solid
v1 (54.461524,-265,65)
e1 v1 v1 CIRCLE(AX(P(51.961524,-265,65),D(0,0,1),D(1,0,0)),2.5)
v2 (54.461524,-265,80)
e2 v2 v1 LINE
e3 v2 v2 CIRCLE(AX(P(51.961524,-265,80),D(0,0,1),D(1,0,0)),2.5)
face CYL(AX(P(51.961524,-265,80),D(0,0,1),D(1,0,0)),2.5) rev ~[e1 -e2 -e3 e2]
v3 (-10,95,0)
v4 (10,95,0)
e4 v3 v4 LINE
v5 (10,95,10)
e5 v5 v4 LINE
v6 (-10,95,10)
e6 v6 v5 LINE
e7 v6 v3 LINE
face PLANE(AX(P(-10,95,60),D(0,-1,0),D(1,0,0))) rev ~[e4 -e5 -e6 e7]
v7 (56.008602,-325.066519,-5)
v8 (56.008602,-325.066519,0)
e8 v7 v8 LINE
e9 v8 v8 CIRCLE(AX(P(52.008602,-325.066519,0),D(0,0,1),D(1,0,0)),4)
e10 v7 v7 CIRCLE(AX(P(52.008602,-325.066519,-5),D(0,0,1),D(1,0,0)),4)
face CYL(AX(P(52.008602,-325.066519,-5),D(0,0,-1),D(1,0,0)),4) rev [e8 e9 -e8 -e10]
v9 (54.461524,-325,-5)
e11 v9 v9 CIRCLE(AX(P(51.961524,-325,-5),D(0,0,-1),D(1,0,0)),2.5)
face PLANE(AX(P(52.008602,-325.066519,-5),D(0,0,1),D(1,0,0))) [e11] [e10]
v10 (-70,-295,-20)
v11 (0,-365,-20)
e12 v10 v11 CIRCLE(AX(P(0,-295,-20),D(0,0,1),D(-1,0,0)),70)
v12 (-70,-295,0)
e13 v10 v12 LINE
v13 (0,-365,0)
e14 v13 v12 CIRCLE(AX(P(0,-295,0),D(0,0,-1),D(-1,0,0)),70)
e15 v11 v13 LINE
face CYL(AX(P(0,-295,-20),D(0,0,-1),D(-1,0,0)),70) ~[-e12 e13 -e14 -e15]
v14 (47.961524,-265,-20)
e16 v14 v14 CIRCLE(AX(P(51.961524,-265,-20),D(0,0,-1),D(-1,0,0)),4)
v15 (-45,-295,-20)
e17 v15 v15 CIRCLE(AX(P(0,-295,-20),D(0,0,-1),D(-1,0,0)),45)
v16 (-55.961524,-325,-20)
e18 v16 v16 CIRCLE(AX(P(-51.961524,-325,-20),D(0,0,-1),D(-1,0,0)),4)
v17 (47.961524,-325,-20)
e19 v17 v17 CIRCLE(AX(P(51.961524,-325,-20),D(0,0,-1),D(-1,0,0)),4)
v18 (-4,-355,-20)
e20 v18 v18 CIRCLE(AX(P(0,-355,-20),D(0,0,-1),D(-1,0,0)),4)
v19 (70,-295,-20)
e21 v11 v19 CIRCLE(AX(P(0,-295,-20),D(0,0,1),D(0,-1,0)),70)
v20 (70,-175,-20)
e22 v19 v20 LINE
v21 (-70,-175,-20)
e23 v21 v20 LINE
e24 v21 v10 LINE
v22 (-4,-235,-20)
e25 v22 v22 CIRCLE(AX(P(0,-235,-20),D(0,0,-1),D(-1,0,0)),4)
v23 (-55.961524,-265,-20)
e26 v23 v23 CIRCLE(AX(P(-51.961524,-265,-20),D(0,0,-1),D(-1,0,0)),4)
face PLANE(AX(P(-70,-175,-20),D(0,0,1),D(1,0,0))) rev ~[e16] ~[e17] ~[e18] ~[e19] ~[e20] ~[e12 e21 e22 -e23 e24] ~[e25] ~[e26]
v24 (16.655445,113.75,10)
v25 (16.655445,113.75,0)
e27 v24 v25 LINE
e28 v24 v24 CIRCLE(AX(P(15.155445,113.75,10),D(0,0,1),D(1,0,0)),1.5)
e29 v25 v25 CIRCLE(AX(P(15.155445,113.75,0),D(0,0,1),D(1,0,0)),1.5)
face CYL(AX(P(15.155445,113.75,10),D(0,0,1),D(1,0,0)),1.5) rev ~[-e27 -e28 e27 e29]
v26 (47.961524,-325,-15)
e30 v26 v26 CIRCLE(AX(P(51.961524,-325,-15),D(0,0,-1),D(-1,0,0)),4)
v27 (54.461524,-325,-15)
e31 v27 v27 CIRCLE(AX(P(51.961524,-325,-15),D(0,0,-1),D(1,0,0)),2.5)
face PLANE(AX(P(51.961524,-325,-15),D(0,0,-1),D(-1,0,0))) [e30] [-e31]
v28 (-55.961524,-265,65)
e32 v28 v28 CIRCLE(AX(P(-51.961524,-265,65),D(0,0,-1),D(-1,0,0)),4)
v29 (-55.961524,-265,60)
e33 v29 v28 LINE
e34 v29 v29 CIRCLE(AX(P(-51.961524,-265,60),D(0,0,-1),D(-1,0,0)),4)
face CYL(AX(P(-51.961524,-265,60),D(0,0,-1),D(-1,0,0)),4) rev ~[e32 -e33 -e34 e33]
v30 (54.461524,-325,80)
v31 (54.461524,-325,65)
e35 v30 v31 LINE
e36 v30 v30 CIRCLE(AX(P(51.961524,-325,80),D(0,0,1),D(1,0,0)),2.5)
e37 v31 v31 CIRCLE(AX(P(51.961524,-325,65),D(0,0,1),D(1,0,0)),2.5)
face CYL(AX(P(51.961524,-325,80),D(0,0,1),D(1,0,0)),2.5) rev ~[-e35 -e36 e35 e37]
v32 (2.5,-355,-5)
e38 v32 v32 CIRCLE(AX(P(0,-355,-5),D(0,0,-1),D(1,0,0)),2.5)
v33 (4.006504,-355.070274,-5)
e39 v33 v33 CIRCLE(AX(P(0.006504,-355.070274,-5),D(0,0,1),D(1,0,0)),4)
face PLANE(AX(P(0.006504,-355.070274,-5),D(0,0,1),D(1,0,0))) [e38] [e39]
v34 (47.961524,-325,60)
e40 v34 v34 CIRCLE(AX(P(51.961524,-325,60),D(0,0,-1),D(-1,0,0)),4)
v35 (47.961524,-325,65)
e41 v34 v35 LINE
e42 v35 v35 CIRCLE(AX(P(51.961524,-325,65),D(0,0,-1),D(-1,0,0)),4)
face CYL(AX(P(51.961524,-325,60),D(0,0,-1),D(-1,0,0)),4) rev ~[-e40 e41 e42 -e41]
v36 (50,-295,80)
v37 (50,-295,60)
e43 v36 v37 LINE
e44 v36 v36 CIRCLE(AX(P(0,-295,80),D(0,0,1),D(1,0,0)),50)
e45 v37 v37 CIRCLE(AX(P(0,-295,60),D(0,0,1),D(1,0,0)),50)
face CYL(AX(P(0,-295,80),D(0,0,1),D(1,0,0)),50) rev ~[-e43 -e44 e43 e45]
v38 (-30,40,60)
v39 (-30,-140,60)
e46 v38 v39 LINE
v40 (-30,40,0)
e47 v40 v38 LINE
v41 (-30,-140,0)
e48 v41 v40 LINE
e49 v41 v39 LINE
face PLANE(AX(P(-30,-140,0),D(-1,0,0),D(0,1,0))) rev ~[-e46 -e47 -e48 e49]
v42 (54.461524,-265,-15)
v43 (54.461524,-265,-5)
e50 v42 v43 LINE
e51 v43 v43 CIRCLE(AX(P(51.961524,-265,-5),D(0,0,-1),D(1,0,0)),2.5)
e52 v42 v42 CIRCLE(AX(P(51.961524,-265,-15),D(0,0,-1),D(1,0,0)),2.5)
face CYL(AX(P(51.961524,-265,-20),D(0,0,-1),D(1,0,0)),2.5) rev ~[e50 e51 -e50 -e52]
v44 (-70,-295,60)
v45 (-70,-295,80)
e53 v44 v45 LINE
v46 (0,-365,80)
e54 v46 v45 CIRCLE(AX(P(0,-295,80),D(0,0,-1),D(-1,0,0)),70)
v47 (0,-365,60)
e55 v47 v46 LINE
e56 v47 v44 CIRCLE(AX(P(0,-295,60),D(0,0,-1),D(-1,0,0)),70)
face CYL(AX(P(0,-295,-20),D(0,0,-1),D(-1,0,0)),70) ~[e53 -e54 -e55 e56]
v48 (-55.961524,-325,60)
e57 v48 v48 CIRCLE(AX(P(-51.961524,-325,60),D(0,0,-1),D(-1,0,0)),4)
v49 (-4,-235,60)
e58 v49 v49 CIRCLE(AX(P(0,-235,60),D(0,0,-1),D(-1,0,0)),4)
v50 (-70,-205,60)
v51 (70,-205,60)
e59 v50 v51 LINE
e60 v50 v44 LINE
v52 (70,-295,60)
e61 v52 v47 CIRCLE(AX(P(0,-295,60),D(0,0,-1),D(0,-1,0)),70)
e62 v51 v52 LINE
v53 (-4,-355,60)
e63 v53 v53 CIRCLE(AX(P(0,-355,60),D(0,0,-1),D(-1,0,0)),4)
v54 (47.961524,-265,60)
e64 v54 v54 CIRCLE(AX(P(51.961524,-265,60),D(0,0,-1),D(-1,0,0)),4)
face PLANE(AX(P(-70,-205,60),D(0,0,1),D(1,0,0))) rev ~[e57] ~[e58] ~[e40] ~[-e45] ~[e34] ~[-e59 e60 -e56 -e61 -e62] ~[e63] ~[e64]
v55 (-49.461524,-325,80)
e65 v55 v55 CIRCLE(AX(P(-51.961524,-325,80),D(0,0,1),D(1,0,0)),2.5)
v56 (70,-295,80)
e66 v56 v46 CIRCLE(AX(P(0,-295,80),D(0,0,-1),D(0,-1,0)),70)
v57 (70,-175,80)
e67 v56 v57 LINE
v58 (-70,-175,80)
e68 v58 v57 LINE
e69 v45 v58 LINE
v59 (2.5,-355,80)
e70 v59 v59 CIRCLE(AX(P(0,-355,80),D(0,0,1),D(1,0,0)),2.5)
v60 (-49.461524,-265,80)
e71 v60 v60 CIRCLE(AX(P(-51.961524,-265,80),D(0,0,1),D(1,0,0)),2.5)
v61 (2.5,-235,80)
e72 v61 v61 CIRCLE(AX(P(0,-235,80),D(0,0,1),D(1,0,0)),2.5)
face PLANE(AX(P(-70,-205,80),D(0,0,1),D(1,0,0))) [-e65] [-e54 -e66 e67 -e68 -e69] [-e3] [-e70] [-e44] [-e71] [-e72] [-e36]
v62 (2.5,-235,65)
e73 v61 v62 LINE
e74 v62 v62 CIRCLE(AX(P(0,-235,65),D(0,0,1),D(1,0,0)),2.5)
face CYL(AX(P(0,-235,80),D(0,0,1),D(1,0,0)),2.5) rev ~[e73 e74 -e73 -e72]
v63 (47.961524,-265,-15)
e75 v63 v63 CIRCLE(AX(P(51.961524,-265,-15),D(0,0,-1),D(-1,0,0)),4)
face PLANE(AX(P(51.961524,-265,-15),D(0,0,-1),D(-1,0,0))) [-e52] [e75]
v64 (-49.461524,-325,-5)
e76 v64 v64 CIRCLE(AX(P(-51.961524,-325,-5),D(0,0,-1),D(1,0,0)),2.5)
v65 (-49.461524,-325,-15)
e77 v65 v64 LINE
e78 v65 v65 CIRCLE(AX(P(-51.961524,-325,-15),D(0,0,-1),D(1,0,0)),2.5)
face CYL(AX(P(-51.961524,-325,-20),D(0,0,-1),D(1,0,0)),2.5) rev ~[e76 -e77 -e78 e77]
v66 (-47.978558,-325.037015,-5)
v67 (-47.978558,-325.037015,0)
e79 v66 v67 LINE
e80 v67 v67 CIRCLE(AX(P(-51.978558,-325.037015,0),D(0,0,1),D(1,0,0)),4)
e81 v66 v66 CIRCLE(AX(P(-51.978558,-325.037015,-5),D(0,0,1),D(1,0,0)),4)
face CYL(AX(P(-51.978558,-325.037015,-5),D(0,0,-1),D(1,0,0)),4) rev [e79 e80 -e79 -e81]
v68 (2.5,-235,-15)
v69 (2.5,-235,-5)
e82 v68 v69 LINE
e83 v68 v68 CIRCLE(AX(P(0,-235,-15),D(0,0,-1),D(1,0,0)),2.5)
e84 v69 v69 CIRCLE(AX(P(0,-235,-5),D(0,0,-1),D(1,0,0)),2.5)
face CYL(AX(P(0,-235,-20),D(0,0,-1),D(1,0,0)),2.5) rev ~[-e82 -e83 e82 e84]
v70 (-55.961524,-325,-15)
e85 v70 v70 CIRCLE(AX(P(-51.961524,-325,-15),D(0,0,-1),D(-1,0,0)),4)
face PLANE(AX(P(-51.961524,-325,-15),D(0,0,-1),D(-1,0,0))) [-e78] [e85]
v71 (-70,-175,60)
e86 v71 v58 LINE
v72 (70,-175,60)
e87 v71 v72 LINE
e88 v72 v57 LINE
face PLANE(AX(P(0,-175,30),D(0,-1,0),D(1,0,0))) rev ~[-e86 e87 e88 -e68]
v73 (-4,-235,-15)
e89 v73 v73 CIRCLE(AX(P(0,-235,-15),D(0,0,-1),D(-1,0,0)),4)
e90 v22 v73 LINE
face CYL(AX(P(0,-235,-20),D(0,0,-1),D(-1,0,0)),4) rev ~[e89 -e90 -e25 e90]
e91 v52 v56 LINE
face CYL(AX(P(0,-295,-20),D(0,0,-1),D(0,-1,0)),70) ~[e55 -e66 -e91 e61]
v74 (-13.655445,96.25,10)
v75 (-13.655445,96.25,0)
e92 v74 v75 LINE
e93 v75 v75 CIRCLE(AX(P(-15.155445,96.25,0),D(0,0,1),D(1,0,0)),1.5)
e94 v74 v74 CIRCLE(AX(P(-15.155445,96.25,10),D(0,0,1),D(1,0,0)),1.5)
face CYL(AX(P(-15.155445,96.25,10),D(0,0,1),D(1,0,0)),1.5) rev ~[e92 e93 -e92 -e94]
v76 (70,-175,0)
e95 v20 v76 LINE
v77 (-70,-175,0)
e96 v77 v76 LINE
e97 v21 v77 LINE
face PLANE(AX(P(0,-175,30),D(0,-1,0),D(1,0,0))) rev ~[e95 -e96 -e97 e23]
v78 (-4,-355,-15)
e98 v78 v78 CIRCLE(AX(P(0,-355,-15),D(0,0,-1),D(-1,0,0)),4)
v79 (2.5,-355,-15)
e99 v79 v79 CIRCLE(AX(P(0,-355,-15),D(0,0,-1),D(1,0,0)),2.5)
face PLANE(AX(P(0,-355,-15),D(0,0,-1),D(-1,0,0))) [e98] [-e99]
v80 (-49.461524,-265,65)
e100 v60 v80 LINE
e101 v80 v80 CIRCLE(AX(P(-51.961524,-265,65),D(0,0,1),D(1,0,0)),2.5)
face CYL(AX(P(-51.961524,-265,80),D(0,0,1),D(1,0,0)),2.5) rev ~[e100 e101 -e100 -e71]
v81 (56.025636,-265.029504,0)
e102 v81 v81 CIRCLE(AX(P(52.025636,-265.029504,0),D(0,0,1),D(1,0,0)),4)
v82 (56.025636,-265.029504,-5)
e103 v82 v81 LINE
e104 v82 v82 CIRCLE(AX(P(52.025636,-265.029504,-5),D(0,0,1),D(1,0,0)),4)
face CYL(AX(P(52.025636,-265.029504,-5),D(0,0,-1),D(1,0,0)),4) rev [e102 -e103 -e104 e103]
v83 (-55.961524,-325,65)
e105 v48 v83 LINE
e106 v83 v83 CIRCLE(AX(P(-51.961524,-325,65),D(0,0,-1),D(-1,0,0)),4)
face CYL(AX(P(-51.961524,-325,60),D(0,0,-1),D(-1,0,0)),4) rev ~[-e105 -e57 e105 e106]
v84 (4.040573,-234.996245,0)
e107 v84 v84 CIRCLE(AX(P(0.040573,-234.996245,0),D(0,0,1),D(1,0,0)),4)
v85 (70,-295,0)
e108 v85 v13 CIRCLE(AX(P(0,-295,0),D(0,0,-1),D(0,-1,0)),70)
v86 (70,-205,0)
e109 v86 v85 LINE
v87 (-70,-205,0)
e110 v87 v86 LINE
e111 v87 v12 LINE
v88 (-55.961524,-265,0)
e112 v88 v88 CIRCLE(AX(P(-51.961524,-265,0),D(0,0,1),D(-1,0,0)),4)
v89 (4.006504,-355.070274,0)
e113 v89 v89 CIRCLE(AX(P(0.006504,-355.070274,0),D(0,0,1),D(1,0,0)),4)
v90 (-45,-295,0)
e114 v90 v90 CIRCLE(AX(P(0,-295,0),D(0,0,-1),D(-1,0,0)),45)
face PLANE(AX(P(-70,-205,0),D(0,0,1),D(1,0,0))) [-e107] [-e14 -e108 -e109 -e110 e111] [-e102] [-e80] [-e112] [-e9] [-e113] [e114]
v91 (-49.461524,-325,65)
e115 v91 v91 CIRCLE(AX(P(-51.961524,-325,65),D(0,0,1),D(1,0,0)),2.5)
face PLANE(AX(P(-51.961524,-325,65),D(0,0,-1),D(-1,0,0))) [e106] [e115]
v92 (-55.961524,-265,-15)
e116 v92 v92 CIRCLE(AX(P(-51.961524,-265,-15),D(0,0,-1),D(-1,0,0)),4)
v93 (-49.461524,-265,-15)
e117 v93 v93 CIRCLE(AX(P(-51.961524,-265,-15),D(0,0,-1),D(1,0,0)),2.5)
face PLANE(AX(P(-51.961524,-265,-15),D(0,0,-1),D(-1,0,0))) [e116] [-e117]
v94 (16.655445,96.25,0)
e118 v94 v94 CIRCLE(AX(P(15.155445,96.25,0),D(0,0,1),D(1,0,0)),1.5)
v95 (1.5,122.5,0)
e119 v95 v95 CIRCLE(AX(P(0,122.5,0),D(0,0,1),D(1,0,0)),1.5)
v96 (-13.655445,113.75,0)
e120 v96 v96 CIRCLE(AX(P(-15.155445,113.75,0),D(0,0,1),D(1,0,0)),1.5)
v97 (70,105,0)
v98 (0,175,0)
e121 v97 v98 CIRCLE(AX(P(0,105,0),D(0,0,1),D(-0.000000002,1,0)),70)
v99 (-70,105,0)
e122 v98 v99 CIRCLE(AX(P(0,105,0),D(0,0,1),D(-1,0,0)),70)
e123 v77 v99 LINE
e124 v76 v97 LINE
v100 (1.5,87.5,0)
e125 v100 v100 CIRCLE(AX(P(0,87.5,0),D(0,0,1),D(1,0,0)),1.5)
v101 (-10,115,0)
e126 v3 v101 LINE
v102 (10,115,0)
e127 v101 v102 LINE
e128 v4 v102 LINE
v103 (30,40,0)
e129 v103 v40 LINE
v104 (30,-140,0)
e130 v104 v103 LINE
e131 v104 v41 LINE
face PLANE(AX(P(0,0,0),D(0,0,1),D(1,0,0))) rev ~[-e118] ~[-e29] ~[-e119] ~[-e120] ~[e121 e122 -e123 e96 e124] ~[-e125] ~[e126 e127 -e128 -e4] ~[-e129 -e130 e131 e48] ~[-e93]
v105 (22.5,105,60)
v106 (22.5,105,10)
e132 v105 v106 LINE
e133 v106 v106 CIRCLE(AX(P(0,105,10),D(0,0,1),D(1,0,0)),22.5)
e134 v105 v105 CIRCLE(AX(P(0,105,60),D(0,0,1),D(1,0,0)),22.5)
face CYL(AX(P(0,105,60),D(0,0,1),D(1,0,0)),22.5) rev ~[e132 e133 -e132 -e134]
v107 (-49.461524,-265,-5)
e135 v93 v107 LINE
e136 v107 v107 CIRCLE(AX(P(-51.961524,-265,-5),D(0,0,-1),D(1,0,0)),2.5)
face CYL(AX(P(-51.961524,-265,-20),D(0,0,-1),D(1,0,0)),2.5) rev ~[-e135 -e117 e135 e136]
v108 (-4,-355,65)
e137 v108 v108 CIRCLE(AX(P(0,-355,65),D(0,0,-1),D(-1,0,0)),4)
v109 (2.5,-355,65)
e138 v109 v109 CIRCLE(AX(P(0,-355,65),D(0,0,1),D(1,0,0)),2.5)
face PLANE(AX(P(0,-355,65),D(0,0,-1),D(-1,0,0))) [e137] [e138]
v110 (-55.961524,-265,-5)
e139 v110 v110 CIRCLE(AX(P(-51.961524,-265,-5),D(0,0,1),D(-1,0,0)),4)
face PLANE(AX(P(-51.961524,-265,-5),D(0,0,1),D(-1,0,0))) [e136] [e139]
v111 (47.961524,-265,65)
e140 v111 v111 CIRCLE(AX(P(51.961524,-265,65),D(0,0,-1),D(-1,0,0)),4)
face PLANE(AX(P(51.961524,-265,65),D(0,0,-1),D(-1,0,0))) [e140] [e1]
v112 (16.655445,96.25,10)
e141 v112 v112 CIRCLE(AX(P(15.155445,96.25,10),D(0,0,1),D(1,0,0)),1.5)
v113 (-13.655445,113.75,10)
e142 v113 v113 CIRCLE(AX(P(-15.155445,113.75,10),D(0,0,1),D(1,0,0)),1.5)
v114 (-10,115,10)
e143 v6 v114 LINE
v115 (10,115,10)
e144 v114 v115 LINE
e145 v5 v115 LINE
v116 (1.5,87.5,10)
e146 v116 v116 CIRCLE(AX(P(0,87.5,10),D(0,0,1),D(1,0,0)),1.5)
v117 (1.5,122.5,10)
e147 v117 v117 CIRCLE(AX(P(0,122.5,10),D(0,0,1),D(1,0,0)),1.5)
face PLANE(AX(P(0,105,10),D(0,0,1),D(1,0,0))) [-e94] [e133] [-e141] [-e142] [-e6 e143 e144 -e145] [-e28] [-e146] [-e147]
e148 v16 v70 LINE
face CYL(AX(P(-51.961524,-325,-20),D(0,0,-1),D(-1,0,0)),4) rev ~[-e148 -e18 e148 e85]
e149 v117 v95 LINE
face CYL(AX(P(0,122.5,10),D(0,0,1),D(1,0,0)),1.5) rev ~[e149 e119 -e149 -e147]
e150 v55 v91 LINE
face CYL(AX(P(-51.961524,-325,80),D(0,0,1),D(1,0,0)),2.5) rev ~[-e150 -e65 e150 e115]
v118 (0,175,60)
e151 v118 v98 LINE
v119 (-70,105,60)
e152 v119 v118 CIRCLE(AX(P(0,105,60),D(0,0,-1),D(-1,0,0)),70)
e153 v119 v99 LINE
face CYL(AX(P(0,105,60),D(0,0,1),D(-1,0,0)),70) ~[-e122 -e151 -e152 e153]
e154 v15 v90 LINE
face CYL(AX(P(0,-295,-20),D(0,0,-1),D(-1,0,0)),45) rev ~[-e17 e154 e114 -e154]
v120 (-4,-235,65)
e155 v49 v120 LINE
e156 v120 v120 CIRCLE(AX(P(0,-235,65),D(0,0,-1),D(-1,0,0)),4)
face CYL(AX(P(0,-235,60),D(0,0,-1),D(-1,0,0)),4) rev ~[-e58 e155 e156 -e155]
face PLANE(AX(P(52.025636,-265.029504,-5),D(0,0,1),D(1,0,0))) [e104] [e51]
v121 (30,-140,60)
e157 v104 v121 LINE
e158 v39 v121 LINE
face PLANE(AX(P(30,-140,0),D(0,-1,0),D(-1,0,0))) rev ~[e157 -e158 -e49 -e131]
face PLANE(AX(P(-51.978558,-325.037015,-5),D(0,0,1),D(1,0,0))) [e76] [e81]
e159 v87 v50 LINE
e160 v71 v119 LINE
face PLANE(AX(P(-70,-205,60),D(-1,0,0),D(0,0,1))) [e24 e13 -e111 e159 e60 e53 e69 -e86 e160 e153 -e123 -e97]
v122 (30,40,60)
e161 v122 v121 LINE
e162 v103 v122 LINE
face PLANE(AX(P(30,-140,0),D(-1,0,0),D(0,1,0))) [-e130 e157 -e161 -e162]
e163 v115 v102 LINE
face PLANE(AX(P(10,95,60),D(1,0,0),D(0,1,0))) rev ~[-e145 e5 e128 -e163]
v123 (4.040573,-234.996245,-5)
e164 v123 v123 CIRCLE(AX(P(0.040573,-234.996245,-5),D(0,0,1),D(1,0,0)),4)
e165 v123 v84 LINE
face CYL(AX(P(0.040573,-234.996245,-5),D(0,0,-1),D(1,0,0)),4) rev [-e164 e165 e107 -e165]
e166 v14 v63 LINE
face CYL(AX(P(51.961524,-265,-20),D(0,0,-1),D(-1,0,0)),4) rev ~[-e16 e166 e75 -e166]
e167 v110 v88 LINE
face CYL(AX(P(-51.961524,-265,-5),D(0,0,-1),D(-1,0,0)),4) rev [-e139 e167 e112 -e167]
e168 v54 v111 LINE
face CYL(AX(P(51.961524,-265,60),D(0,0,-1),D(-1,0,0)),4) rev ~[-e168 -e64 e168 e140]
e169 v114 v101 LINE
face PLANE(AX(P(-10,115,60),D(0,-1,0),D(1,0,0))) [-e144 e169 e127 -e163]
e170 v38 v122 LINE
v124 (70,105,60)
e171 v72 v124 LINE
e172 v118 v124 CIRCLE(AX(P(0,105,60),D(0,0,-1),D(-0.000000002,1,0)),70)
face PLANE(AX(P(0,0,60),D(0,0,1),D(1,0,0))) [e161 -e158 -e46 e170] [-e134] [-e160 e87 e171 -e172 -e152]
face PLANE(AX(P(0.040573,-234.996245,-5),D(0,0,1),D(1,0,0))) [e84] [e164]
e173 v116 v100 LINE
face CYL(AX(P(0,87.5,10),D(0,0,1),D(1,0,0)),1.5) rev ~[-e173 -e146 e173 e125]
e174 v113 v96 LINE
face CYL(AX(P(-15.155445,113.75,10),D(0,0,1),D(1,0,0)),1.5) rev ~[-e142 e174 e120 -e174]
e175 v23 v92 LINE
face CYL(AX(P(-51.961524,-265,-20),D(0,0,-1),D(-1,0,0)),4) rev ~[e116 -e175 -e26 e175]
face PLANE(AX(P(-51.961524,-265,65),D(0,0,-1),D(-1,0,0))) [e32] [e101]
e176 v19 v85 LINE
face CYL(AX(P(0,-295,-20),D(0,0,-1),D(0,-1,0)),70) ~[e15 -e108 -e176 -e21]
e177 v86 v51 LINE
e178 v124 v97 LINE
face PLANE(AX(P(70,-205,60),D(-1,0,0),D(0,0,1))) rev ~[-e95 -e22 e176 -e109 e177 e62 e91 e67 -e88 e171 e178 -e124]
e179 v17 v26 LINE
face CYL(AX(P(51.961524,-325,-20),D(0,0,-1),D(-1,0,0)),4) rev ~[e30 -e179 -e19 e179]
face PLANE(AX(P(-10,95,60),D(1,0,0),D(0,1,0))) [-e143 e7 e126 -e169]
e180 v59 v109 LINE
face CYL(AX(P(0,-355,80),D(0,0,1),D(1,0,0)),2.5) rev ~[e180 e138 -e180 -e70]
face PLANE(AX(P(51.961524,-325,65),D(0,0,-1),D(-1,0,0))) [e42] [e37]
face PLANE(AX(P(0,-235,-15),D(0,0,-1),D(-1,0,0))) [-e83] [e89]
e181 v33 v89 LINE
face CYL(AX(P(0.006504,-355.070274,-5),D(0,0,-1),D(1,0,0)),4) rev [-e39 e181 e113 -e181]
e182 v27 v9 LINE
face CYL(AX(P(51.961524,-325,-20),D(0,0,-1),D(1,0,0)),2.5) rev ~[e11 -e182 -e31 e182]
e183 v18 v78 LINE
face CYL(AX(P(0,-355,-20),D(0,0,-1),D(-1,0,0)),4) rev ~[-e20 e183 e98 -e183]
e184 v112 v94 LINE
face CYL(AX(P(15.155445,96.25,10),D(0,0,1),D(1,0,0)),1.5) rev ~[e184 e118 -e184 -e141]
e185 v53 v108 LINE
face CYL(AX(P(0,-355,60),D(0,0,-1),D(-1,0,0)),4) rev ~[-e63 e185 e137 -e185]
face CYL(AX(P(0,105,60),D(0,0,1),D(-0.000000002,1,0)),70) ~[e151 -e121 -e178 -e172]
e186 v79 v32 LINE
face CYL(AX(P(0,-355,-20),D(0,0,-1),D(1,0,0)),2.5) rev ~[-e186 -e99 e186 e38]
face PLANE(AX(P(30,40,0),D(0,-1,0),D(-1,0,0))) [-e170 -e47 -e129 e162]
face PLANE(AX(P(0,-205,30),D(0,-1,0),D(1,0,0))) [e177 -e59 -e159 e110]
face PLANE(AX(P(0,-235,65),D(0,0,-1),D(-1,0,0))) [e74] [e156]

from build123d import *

# Parameters (mm, degrees)
SKETCH_1_W           = 140
SKETCH_1_H           = 350
EXTRUDE_1_DEPTH      = 60
CUT_EXTRUDE_1_REACH  = 199.8
SKETCH_4_W           = 140
SKETCH_4_H           = 100
EXTRUDE_3_DEPTH      = 30
SKETCH_5_W           = 140
SKETCH_5_H           = 20
EXTRUDE_4_DEPTH      = 160
CUT_EXTRUDE_3_DEPTH  = 385.870107959
SKETCH_8_W           = 60
SKETCH_8_H           = 180
CUT_EXTRUDE_4_DEPTH  = 381.164438105
CUT_EXTRUDE_5_REACH  = 386.87
SKETCH_9_R           = 45
CUT_EXTRUDE_6_REACH  = 386.87
SKETCH_10_R          = 50
SKETCH_11_W          = 20
SKETCH_11_H          = 20
CUT_EXTRUDE_7_DEPTH  = 381.164438105
CUT_EXTRUDE_10_REACH = 386.87
SKETCH_13_R          = 2.5
SKETCH_14_R          = 4
CUT_EXTRUDE_11_DEPTH = 5
SKETCH_16_R          = 22.5
SKETCH_16_W          = 20
SKETCH_16_H          = 20
CUT_EXTRUDE_12_DEPTH = 50
SKETCH_17_R          = 1.5
CUT_EXTRUDE_13_DEPTH = 379.186461947
SKETCH_18_R          = 4
CUT_EXTRUDE_14_DEPTH = 5
SKETCH_19_R          = 2.5
CUT_EXTRUDE_15_DEPTH = 385.870107959
CUT_EXTRUDE_START    = -5
SKETCH_20_R          = 4
CUT_EXTRUDE_16_DEPTH = 5


with BuildPart() as part:
    # 草图1 → 凸台-拉伸1 (new body)
    with BuildSketch(Plane.XY):
        Rectangle(SKETCH_1_W, SKETCH_1_H)
    extrude(amount=EXTRUDE_1_DEPTH)

    # 草图2 → 切除-拉伸1 (cut, up to next)
    with BuildSketch(Plane.XY.offset(60), mode=Mode.PRIVATE) as cut_extrude_1_sk1:
        with BuildLine():
            Line((-1.55e-07, 175), (-70, 175))
            Line((-70, 175), (-70, 105))
            ThreePointArc((-70, 105), (-49.497474738, 154.497474628), (-1.55e-07, 175))
        make_face()
    cut_extrude_1_tool1 = extrude(cut_extrude_1_sk1.sketch, amount=-CUT_EXTRUDE_1_REACH, mode=Mode.PRIVATE) & part.part
    # 草图2 → 切除-拉伸1 (cut, up to next)
    with BuildSketch(Plane.XY.offset(60), mode=Mode.PRIVATE) as cut_extrude_1_sk2:
        with BuildLine():
            Line((70, 175), (-1.55e-07, 175))
            ThreePointArc((-1.55e-07, 175), (49.497474628, 154.497474738), (70, 105))
            Line((70, 105), (70, 175))
        make_face()
    cut_extrude_1_tool2 = extrude(cut_extrude_1_sk2.sketch, amount=-CUT_EXTRUDE_1_REACH, mode=Mode.PRIVATE) & part.part
    add(cut_extrude_1_tool1.solids().sort_by_distance((-54.364244, 159.364244, 60))[0], mode=Mode.SUBTRACT)
    add(cut_extrude_1_tool2.solids().sort_by_distance((54.364244, 159.364244, 60))[0], mode=Mode.SUBTRACT)

    # 草图4 → 凸台-拉伸3 (add)
    with BuildSketch(Plane.XZ.offset(175)):
        with Locations((0, 30)):
            Rectangle(SKETCH_4_W, SKETCH_4_H)
    extrude(amount=EXTRUDE_3_DEPTH)

    # 草图5 → 凸台-拉伸4 (add)
    with BuildSketch(Plane.XZ.offset(205)):
        with Locations((0, 70)):
            Rectangle(SKETCH_5_W, SKETCH_5_H)
        with Locations((0, -10)):
            Rectangle(SKETCH_5_W, SKETCH_5_H)
    extrude(amount=EXTRUDE_4_DEPTH)

    # 草图7 → 切除-拉伸3 (cut, through all)
    with BuildSketch(Plane(origin=(0, 0, -20), x_dir=(-1, 0, 0), z_dir=(0, 0, -1))):
        with BuildLine():
            Line((-70, -295), (-70, -365))
            Line((-70, -365), (0, -365))
            ThreePointArc((0, -365), (-49.497474683, -344.497474683), (-70, -295))
        make_face()
        with BuildLine():
            ThreePointArc((70, -295), (49.497474683, -344.497474683), (0, -365))
            Line((0, -365), (70, -365))
            Line((70, -365), (70, -295))
        make_face()
    extrude(amount=-CUT_EXTRUDE_3_DEPTH, mode=Mode.SUBTRACT)

    # 草图8 → 切除-拉伸4 (cut, through all)
    with BuildSketch(Plane(origin=(0, 0, 0), x_dir=(-1, 0, 0), z_dir=(0, 0, -1))):
        with Locations((0, -50)):
            Rectangle(SKETCH_8_W, SKETCH_8_H)
    extrude(amount=-CUT_EXTRUDE_4_DEPTH, mode=Mode.SUBTRACT)

    # 草图9 → 切除-拉伸5 (cut, up to next)
    with BuildSketch(Plane(origin=(0, 0, -20), x_dir=(-1, 0, 0), z_dir=(0, 0, -1)), mode=Mode.PRIVATE) as cut_extrude_5_sk1:
        with Locations((0, -295)):
            Circle(SKETCH_9_R)
    cut_extrude_5_tool1 = extrude(cut_extrude_5_sk1.sketch, amount=-CUT_EXTRUDE_5_REACH, mode=Mode.PRIVATE) & part.part
    add(cut_extrude_5_tool1.solids().sort_by_distance((0, -295, -20))[0], mode=Mode.SUBTRACT)

    # 草图10 → 切除-拉伸6 (cut, up to next)
    with BuildSketch(Plane.XY.offset(80), mode=Mode.PRIVATE) as cut_extrude_6_sk1:
        with Locations((0, -295)):
            Circle(SKETCH_10_R)
    cut_extrude_6_tool1 = extrude(cut_extrude_6_sk1.sketch, amount=-CUT_EXTRUDE_6_REACH, mode=Mode.PRIVATE) & part.part
    add(cut_extrude_6_tool1.solids().sort_by_distance((0, -295, 80))[0], mode=Mode.SUBTRACT)

    # 草图11 → 切除-拉伸7 (cut, through all)
    with BuildSketch(Plane.XY.offset(60)):
        with Locations((0, 105)):
            Rectangle(SKETCH_11_W, SKETCH_11_H)
    extrude(amount=-CUT_EXTRUDE_7_DEPTH, mode=Mode.SUBTRACT)

    # 草图13 → 切除-拉伸10 (cut, up to next)
    with BuildSketch(Plane.XY.offset(80), mode=Mode.PRIVATE) as cut_extrude_10_sk1:
        with Locations((-51.961524227, -265)):
            Circle(SKETCH_13_R)
    cut_extrude_10_tool1 = extrude(cut_extrude_10_sk1.sketch, amount=-CUT_EXTRUDE_10_REACH, mode=Mode.PRIVATE) & part.part
    # 草图13 → 切除-拉伸10 (cut, up to next)
    with BuildSketch(Plane.XY.offset(80), mode=Mode.PRIVATE) as cut_extrude_10_sk2:
        with Locations((0, -235)):
            Circle(SKETCH_13_R)
    cut_extrude_10_tool2 = extrude(cut_extrude_10_sk2.sketch, amount=-CUT_EXTRUDE_10_REACH, mode=Mode.PRIVATE) & part.part
    # 草图13 → 切除-拉伸10 (cut, up to next)
    with BuildSketch(Plane.XY.offset(80), mode=Mode.PRIVATE) as cut_extrude_10_sk3:
        with Locations((51.961524227, -265)):
            Circle(SKETCH_13_R)
    cut_extrude_10_tool3 = extrude(cut_extrude_10_sk3.sketch, amount=-CUT_EXTRUDE_10_REACH, mode=Mode.PRIVATE) & part.part
    # 草图13 → 切除-拉伸10 (cut, up to next)
    with BuildSketch(Plane.XY.offset(80), mode=Mode.PRIVATE) as cut_extrude_10_sk4:
        with Locations((51.961524227, -325)):
            Circle(SKETCH_13_R)
    cut_extrude_10_tool4 = extrude(cut_extrude_10_sk4.sketch, amount=-CUT_EXTRUDE_10_REACH, mode=Mode.PRIVATE) & part.part
    # 草图13 → 切除-拉伸10 (cut, up to next)
    with BuildSketch(Plane.XY.offset(80), mode=Mode.PRIVATE) as cut_extrude_10_sk5:
        with Locations((0, -355)):
            Circle(SKETCH_13_R)
    cut_extrude_10_tool5 = extrude(cut_extrude_10_sk5.sketch, amount=-CUT_EXTRUDE_10_REACH, mode=Mode.PRIVATE) & part.part
    # 草图13 → 切除-拉伸10 (cut, up to next)
    with BuildSketch(Plane.XY.offset(80), mode=Mode.PRIVATE) as cut_extrude_10_sk6:
        with Locations((-51.961524227, -325)):
            Circle(SKETCH_13_R)
    cut_extrude_10_tool6 = extrude(cut_extrude_10_sk6.sketch, amount=-CUT_EXTRUDE_10_REACH, mode=Mode.PRIVATE) & part.part
    add(cut_extrude_10_tool1.solids().sort_by_distance((-51.961524, -265, 80))[0], mode=Mode.SUBTRACT)
    add(cut_extrude_10_tool2.solids().sort_by_distance((0, -235, 80))[0], mode=Mode.SUBTRACT)
    add(cut_extrude_10_tool3.solids().sort_by_distance((51.961524, -265, 80))[0], mode=Mode.SUBTRACT)
    add(cut_extrude_10_tool4.solids().sort_by_distance((51.961524, -325, 80))[0], mode=Mode.SUBTRACT)
    add(cut_extrude_10_tool5.solids().sort_by_distance((0, -355, 80))[0], mode=Mode.SUBTRACT)
    add(cut_extrude_10_tool6.solids().sort_by_distance((-51.961524, -325, 80))[0], mode=Mode.SUBTRACT)

    # 草图14 → 切除-拉伸11 (cut)
    with BuildSketch(Plane(origin=(0, 0, 60), x_dir=(-1, 0, 0), z_dir=(0, 0, -1))):
        with Locations((-51.961524227, -325)):
            Circle(SKETCH_14_R)
        with Locations((-51.961524227, -265)):
            Circle(SKETCH_14_R)
        with Locations((0, -235)):
            Circle(SKETCH_14_R)
        with Locations((51.961524227, -265)):
            Circle(SKETCH_14_R)
        with Locations((51.961524227, -325)):
            Circle(SKETCH_14_R)
        with Locations((0, -355)):
            Circle(SKETCH_14_R)
    extrude(amount=-CUT_EXTRUDE_11_DEPTH, mode=Mode.SUBTRACT)

    # 草图16 → 切除-拉伸12 (cut)
    with BuildSketch(Plane.XY.offset(60)):
        with Locations((0, 105)):
            Circle(SKETCH_16_R)
        with Locations((0, 105)):
            Rectangle(SKETCH_16_W, SKETCH_16_H, mode=Mode.SUBTRACT)
    extrude(amount=-CUT_EXTRUDE_12_DEPTH, mode=Mode.SUBTRACT)

    # 草图17 → 切除-拉伸13 (cut, through all)
    with BuildSketch(Plane.XY.offset(10)):
        with Locations((0, 122.5)):
            Circle(SKETCH_17_R)
        with Locations((15.155444566, 113.75)):
            Circle(SKETCH_17_R)
        with Locations((15.155444566, 96.25)):
            Circle(SKETCH_17_R)
        with Locations((0, 87.5)):
            Circle(SKETCH_17_R)
        with Locations((-15.155444566, 96.25)):
            Circle(SKETCH_17_R)
        with Locations((-15.155444566, 113.75)):
            Circle(SKETCH_17_R)
    extrude(amount=-CUT_EXTRUDE_13_DEPTH, mode=Mode.SUBTRACT)

    # 草图18 → 切除-拉伸14 (cut)
    with BuildSketch(Plane(origin=(0, 0, -20), x_dir=(-1, 0, 0), z_dir=(0, 0, -1))):
        with Locations((0, -235)):
            Circle(SKETCH_18_R)
        with Locations((-51.961524227, -265)):
            Circle(SKETCH_18_R)
        with Locations((-51.961524227, -325)):
            Circle(SKETCH_18_R)
        with Locations((0, -355)):
            Circle(SKETCH_18_R)
        with Locations((51.961524227, -325)):
            Circle(SKETCH_18_R)
        with Locations((51.961524227, -265)):
            Circle(SKETCH_18_R)
    extrude(amount=-CUT_EXTRUDE_14_DEPTH, mode=Mode.SUBTRACT)

    # 草图19 → 切除-拉伸15 (cut, through all)
    with BuildSketch(Plane(origin=(0, 0, -20), x_dir=(-1, 0, 0), z_dir=(0, 0, -1))):
        with Locations(Location((-51.961524227, -265, 0), (0, 0, 180))):
            Circle(SKETCH_19_R)
        with Locations(Location((-51.961524227, -325, 0), (0, 0, 180))):
            Circle(SKETCH_19_R)
        with Locations(Location((0, -355, 0), (0, 0, 180))):
            Circle(SKETCH_19_R)
        with Locations(Location((51.961524227, -325, 0), (0, 0, 180))):
            Circle(SKETCH_19_R)
        with Locations(Location((51.961524227, -265, 0), (0, 0, 180))):
            Circle(SKETCH_19_R)
        with Locations(Location((0, -235, 0), (0, 0, 180))):
            Circle(SKETCH_19_R)
    extrude(amount=-CUT_EXTRUDE_15_DEPTH, mode=Mode.SUBTRACT)

    # 草图20 → 切除-拉伸16 (cut)
    with BuildSketch(Plane.XY.offset(CUT_EXTRUDE_START)):
        with Locations(Location((-51.961524227, -265, 0), (0, 0, 180))):
            Circle(SKETCH_20_R)
        with Locations((0.040572827, -234.996244649)):
            Circle(SKETCH_20_R)
        with Locations((52.025635698, -265.029504072)):
            Circle(SKETCH_20_R)
        with Locations((52.008601514, -325.066518847)):
            Circle(SKETCH_20_R)
        with Locations((0.00650446, -355.070274198)):
            Circle(SKETCH_20_R)
        with Locations((-51.978558411, -325.037014775)):
            Circle(SKETCH_20_R)
    extrude(amount=CUT_EXTRUDE_16_DEPTH, mode=Mode.SUBTRACT)


solid = part.part
